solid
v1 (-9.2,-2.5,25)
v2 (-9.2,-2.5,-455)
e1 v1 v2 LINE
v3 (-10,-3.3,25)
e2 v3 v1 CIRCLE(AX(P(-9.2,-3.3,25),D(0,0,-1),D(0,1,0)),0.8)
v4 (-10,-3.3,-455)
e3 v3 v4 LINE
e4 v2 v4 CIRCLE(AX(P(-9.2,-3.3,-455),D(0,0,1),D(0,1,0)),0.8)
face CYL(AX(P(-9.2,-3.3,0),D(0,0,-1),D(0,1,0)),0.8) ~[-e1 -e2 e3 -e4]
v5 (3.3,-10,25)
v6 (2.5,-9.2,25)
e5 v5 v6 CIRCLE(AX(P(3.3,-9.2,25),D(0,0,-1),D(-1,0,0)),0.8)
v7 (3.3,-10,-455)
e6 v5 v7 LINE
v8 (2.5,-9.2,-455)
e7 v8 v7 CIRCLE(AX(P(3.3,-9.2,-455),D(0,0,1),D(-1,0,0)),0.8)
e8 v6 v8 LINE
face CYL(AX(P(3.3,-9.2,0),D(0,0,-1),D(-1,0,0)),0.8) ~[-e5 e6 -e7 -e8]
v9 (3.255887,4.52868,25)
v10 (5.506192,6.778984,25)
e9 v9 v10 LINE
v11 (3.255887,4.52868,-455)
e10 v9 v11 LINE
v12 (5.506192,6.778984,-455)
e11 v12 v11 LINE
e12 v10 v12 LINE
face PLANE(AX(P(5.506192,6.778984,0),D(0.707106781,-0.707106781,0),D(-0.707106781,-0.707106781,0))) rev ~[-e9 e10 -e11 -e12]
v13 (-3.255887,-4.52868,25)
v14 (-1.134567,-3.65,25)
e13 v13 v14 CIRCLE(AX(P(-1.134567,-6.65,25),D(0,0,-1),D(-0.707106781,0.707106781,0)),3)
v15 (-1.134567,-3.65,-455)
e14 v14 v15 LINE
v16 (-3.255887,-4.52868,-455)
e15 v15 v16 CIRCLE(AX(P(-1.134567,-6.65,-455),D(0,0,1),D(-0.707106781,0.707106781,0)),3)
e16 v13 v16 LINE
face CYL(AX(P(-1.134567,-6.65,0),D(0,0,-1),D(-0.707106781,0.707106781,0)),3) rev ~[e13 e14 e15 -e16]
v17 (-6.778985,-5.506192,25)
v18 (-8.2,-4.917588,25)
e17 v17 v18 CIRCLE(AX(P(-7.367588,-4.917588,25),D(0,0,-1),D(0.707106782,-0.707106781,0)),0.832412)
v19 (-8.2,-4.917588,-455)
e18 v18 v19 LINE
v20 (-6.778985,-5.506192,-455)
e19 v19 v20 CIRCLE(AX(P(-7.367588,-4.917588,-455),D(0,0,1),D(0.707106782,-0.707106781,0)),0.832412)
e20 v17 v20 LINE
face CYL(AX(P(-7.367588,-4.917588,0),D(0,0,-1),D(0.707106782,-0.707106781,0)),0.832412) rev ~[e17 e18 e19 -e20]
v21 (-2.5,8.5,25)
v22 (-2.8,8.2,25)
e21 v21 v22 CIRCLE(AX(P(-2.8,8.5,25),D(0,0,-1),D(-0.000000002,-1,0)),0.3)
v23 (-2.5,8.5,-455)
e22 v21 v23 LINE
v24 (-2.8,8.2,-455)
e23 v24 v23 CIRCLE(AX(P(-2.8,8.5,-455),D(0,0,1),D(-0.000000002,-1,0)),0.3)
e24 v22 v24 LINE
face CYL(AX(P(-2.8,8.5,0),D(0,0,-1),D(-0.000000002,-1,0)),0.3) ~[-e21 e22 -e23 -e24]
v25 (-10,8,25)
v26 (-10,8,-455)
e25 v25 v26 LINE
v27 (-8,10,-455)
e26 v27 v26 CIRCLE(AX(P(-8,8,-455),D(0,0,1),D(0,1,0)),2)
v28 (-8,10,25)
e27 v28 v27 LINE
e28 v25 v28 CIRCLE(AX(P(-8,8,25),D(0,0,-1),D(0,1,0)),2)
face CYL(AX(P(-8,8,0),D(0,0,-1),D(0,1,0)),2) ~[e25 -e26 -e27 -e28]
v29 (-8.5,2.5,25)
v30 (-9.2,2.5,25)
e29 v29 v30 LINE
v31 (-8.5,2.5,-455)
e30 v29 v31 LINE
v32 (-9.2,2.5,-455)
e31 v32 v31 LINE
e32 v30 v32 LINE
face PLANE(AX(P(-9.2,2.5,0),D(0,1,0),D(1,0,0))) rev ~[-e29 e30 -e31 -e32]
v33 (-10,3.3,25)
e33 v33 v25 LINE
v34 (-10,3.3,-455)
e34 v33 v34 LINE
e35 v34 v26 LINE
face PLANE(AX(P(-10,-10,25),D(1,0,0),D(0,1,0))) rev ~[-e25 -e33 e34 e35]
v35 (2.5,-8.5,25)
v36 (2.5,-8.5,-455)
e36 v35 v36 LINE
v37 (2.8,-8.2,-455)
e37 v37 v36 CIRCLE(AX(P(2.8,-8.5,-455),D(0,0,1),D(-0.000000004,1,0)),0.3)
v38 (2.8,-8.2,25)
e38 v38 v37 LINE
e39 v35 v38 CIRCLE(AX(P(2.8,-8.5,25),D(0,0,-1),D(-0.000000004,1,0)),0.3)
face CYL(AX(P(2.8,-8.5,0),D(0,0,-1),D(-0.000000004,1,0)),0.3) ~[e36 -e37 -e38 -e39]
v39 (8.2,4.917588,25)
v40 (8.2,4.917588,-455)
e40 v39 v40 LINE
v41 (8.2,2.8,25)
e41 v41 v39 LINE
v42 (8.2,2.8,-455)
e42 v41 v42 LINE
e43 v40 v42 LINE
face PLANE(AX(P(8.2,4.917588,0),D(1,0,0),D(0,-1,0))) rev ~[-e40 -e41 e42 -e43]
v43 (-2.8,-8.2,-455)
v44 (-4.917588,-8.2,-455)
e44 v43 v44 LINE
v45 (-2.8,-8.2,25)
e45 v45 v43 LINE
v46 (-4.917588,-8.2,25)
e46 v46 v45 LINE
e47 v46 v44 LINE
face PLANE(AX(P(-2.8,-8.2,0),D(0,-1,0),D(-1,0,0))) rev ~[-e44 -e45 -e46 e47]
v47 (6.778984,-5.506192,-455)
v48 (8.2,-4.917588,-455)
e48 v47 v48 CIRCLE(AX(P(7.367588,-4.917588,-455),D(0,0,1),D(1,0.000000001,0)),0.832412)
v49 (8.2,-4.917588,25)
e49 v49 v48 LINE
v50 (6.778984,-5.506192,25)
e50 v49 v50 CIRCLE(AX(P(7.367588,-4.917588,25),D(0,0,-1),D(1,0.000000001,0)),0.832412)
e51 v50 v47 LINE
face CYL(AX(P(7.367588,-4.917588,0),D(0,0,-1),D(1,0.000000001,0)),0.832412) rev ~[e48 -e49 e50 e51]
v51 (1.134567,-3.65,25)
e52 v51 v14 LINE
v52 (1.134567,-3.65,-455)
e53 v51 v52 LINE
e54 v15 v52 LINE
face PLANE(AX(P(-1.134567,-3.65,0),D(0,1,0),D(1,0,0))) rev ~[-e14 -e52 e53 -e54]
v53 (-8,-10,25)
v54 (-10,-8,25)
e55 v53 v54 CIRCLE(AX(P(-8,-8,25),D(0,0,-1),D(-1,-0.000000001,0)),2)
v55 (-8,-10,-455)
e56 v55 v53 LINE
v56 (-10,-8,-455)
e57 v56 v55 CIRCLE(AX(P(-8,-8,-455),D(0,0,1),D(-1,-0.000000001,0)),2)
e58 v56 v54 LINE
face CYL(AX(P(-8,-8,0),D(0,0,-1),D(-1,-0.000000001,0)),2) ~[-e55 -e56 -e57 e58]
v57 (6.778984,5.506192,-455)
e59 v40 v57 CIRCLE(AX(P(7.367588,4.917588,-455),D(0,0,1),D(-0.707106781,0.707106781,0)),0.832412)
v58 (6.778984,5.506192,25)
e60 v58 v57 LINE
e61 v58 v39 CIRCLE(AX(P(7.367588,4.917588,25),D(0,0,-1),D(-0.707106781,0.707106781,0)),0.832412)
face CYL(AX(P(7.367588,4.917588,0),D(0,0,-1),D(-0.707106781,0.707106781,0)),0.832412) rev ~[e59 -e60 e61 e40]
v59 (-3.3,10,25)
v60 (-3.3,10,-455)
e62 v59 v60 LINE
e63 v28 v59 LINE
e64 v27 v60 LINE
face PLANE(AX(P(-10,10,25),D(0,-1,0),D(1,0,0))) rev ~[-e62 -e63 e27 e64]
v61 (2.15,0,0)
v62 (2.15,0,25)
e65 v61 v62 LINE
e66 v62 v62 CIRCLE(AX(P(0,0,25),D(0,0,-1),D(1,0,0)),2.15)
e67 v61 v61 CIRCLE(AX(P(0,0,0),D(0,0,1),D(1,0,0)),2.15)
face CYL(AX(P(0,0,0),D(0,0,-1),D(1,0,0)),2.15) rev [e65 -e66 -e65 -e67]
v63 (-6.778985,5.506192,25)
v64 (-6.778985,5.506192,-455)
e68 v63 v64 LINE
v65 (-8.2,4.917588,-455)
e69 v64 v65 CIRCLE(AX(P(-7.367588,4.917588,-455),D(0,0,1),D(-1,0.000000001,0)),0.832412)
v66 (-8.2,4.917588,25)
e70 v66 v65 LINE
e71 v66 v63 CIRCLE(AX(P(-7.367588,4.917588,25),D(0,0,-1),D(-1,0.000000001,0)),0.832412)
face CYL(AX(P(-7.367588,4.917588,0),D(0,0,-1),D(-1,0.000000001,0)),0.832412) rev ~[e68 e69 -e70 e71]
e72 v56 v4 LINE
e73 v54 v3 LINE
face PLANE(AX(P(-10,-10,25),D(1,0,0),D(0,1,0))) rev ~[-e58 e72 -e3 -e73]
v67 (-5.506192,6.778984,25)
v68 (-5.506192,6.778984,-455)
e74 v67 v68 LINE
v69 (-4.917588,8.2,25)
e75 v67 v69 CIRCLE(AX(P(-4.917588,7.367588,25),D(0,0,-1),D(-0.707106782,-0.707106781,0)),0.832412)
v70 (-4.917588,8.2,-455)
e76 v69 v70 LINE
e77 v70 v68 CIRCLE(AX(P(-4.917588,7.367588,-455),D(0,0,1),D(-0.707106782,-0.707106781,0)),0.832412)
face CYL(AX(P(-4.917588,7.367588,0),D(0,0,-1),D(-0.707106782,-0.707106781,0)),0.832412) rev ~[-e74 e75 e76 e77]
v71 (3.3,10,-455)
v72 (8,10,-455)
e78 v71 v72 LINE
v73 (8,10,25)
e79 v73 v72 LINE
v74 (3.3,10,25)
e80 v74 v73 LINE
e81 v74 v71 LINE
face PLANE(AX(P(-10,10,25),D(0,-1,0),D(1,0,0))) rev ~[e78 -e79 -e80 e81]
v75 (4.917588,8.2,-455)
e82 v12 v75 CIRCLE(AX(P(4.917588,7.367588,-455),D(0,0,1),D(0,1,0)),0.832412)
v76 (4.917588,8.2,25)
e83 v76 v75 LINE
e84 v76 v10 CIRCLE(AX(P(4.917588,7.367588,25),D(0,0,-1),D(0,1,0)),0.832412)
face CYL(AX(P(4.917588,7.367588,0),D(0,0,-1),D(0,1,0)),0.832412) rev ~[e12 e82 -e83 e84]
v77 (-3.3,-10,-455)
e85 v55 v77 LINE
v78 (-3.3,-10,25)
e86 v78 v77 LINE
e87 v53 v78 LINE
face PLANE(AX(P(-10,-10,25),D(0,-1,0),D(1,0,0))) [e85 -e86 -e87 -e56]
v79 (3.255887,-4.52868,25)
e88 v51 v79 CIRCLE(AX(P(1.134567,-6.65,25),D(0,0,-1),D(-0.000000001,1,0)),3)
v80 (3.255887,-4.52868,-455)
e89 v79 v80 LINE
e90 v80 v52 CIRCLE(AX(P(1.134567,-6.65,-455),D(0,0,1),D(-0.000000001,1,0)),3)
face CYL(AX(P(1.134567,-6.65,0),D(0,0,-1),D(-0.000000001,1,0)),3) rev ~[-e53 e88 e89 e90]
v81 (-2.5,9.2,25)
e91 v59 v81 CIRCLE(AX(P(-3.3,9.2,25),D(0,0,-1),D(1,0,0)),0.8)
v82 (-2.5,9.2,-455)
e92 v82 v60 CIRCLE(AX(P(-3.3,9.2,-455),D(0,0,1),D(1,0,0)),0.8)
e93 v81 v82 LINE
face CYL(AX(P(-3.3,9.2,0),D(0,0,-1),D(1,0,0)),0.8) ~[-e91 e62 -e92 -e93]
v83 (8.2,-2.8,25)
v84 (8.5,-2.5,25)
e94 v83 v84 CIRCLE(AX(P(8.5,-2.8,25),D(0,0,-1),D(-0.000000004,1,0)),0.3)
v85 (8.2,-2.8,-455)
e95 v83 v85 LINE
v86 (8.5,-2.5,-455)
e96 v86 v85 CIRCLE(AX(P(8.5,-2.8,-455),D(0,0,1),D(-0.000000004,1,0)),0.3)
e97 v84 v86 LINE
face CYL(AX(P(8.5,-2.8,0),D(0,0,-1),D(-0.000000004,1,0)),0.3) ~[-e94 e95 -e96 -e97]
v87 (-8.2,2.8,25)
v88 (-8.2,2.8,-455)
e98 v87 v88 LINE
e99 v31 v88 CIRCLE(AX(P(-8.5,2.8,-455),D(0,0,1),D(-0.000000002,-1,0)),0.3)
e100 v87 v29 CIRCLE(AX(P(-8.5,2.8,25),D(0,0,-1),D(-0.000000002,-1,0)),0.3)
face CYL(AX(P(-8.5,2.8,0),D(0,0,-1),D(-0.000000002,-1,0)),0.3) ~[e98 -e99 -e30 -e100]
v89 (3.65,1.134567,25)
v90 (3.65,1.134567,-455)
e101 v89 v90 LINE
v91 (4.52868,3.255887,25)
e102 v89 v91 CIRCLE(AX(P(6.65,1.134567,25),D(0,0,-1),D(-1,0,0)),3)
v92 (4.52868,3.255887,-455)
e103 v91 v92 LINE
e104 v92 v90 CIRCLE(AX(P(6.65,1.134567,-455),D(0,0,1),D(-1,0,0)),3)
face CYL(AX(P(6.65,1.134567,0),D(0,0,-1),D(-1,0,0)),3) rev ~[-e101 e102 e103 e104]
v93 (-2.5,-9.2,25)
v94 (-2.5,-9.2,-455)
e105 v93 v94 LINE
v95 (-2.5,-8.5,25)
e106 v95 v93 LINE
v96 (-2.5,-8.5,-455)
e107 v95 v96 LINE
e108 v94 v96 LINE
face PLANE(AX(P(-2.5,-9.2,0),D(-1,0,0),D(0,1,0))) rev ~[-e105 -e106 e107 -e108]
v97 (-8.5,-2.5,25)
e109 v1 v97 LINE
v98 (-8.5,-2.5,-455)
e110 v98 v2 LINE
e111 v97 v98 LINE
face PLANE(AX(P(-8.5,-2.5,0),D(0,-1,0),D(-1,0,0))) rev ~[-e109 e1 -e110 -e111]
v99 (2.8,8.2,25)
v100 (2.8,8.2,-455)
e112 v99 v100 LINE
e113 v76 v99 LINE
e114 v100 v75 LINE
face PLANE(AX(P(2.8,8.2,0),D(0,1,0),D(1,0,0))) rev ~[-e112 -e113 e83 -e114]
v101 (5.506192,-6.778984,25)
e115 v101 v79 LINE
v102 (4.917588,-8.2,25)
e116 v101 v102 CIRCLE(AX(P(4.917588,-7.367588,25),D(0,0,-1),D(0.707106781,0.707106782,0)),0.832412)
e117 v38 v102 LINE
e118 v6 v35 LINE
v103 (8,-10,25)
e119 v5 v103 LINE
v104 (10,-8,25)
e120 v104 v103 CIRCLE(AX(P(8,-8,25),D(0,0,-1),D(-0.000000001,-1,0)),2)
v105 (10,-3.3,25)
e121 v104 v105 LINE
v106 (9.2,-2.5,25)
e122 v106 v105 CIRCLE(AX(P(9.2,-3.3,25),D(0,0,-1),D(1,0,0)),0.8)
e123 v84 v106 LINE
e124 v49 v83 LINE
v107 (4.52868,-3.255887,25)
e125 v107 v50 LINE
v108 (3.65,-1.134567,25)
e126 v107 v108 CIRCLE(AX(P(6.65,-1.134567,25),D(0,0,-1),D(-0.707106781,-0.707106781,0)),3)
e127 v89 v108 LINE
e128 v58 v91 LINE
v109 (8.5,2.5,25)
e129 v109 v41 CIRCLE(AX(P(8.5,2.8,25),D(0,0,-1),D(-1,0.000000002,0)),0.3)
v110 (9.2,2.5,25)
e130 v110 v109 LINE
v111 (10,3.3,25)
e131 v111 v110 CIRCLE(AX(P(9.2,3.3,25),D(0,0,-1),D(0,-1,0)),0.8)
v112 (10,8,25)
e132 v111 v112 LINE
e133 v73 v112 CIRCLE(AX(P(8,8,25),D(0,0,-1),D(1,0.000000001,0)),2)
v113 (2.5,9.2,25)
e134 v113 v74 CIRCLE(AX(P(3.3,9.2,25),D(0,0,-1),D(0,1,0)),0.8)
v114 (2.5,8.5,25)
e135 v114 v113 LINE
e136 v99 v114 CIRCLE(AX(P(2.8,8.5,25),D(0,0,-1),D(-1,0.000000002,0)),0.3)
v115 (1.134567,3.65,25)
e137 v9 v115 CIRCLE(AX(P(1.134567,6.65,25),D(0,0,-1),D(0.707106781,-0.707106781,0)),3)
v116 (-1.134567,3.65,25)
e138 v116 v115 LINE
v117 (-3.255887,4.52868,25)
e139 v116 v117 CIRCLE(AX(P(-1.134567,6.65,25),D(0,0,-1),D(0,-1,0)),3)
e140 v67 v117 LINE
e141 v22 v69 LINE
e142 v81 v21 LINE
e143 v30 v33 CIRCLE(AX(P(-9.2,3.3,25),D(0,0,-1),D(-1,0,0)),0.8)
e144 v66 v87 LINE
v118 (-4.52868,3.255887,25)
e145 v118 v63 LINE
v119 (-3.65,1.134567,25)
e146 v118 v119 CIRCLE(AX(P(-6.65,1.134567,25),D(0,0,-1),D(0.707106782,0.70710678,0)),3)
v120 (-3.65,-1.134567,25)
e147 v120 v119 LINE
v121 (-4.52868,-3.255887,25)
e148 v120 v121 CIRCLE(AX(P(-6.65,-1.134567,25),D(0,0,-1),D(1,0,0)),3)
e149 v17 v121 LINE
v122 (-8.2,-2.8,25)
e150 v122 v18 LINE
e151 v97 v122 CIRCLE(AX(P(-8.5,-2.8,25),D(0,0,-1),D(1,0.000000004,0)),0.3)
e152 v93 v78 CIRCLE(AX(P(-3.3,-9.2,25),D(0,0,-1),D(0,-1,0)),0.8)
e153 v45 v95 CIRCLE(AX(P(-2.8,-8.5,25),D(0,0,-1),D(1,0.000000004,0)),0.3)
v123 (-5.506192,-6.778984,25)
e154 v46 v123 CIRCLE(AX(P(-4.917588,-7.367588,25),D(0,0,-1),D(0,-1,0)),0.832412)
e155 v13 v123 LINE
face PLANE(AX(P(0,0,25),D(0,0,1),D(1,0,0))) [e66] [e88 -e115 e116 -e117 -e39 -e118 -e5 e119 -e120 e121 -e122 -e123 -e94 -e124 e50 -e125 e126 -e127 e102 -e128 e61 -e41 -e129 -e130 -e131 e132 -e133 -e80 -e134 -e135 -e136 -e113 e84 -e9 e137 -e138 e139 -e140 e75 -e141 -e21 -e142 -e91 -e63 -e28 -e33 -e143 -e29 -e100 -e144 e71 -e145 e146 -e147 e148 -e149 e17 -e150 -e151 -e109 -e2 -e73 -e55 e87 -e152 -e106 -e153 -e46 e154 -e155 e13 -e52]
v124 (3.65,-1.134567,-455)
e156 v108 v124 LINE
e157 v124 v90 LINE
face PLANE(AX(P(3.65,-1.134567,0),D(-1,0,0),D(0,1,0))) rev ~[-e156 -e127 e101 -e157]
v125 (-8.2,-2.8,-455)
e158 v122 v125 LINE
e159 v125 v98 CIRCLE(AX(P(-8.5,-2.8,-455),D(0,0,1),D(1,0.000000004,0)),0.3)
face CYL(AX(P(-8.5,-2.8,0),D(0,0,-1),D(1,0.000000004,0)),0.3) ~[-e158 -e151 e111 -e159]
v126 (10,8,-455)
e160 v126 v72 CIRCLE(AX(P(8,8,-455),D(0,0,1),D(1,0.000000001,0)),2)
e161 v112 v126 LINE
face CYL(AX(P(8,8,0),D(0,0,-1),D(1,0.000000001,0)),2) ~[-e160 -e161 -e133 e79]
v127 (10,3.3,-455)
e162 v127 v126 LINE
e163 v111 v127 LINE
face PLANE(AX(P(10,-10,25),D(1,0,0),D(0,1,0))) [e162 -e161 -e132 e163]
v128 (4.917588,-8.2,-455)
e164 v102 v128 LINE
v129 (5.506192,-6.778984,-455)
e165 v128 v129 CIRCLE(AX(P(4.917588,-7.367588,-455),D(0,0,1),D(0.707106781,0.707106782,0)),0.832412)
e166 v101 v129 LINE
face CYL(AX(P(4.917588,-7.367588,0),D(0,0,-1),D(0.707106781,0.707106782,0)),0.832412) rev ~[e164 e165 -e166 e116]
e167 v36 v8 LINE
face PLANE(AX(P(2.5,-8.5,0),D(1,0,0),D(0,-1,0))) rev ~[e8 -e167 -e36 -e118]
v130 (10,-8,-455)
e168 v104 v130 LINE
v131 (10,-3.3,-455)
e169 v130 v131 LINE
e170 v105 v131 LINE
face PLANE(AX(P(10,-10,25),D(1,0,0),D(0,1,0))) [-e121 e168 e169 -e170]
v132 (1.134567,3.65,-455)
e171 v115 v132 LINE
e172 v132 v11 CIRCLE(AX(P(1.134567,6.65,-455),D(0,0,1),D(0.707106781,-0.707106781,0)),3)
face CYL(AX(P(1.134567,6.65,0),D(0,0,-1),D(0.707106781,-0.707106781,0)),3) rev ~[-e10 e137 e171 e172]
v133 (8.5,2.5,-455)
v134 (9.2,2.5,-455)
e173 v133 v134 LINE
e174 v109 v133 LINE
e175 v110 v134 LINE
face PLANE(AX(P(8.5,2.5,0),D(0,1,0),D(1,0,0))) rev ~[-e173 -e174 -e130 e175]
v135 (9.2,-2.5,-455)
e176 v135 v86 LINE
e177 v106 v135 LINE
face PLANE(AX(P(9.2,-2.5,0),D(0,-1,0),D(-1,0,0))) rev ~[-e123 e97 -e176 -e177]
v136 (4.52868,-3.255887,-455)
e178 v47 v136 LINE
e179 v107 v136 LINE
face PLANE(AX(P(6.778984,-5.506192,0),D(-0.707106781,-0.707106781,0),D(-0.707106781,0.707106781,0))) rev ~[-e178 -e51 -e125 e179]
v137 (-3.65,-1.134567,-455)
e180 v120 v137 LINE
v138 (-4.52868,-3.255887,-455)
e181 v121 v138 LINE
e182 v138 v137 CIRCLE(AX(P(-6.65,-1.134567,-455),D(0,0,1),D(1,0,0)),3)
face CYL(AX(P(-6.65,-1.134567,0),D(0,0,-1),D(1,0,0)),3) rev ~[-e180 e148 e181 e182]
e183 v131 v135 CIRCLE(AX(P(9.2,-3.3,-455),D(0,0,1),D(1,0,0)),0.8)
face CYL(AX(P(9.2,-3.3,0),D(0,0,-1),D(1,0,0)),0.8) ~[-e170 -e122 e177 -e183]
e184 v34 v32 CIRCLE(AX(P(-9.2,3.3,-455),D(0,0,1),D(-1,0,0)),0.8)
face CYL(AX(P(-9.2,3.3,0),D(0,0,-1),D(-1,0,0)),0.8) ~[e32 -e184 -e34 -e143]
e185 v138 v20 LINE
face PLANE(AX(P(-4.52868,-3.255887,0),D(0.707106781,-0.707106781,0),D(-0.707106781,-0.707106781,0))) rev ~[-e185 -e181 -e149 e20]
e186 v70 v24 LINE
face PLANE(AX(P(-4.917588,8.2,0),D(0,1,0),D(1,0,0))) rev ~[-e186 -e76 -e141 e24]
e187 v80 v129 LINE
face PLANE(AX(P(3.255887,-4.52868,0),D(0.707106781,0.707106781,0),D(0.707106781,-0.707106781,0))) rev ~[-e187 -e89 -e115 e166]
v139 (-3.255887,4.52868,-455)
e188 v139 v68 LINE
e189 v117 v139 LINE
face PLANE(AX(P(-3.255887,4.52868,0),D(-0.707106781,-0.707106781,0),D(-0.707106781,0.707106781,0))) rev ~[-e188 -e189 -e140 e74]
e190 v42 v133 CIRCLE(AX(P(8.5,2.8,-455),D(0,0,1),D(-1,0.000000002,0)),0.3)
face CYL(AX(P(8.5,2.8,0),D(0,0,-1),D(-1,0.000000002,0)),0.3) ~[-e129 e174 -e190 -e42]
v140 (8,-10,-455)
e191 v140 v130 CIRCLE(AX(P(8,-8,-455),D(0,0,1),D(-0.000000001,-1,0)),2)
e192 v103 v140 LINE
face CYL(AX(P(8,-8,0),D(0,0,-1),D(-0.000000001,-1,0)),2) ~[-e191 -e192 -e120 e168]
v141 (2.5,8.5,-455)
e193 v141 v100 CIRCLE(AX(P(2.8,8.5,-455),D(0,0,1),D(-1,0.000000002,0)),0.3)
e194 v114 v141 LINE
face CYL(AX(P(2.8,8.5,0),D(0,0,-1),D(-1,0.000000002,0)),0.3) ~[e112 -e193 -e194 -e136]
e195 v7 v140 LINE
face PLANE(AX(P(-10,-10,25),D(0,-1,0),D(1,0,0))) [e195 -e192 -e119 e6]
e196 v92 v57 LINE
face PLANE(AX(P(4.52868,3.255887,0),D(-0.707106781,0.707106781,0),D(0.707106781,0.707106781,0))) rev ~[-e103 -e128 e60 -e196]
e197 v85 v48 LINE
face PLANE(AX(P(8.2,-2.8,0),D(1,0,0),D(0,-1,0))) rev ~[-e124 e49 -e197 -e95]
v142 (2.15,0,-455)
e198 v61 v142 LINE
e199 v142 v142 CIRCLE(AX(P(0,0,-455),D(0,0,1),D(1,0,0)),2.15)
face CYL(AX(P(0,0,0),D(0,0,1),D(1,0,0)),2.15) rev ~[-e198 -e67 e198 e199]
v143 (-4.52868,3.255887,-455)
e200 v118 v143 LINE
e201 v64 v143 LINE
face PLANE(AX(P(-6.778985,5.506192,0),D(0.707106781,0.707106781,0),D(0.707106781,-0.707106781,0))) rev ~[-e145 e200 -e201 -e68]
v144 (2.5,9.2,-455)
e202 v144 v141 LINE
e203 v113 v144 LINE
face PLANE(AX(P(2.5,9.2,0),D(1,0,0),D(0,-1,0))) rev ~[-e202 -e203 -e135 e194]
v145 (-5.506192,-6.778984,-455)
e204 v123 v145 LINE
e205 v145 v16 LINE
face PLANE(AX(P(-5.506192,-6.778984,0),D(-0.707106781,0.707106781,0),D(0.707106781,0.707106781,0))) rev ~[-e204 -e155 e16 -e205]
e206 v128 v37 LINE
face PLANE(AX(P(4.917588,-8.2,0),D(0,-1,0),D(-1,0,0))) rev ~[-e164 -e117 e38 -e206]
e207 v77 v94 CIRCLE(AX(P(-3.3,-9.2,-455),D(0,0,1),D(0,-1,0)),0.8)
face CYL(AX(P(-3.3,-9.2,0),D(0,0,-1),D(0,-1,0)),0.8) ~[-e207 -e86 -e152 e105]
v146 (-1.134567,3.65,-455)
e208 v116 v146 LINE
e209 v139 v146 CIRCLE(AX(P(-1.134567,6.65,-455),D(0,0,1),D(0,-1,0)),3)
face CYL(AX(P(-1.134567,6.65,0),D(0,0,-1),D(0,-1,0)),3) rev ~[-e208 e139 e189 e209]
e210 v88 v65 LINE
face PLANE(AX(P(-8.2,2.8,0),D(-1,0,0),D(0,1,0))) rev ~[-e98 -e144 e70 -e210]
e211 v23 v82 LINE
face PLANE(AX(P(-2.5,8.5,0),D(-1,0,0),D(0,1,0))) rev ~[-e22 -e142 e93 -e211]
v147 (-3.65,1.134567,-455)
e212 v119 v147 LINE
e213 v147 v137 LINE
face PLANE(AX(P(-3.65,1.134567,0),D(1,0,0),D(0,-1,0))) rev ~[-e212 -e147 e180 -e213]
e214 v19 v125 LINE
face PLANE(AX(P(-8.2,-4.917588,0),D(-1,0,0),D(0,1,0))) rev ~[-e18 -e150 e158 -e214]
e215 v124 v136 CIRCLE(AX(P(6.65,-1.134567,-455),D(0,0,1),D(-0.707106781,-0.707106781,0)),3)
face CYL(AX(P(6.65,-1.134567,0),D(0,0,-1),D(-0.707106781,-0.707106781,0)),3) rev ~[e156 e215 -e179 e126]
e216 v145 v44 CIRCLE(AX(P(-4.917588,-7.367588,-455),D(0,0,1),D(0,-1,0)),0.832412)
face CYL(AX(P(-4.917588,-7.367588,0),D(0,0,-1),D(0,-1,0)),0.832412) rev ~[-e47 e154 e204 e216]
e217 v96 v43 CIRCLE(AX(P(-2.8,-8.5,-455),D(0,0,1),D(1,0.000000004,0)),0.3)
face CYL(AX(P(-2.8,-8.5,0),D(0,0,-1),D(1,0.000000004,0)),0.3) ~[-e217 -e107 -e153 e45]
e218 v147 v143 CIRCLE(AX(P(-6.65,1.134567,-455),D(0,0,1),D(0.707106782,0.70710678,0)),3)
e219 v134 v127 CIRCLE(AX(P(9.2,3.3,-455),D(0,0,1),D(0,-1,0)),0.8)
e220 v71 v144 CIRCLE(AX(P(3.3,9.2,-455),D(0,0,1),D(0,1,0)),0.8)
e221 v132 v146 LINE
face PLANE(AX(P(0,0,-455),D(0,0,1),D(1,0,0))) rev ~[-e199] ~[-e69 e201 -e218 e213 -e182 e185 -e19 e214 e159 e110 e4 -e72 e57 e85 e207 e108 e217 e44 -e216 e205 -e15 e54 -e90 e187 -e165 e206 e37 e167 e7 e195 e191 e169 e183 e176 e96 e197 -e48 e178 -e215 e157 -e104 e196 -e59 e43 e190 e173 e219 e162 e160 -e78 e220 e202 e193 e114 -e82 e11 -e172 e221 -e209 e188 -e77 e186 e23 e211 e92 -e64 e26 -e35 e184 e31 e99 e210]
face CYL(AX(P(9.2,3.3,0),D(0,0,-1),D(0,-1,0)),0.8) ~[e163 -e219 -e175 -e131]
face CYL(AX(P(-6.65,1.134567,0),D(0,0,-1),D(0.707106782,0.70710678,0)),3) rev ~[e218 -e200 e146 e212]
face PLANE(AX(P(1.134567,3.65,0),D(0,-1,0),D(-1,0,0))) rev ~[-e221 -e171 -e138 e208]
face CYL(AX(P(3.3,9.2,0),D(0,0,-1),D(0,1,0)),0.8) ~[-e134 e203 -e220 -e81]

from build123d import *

# Parameters (mm, degrees)
SKETCH4_W              = 20
SKETCH4_H              = 20
BODY_DEPTH             = 480
SKETCH16_OUTSIDE_W     = 118.166
SKETCH16_OUTSIDE_H     = 118.166
SKETCH16_OUTSIDE_R     = 2.15
CUT_PROFILE_DEPTH      = 26
CUT_PROFILE_DEPTH_BACK = 456


with BuildPart() as part:
    # Sketch4 → Body (new body)
    with BuildSketch(Plane.XY.offset(25)):
        Rectangle(SKETCH4_W, SKETCH4_H)
    extrude(amount=-BODY_DEPTH)

    # Sketch16 outside → Cut-Profile (cut, two sides)
    with BuildSketch(Plane.XY) as cut_profile_sk:
        Rectangle(SKETCH16_OUTSIDE_W, SKETCH16_OUTSIDE_H)
        with BuildLine():
            Line((4.917588389, -8.199999991), (2.799999989, -8.199999991))
            ThreePointArc((2.799999989, -8.199999991), (2.587867955, -8.287867957), (2.499999989, -8.499999991))
            Line((2.499999989, -8.499999991), (2.499999989, -9.199999991))
            ThreePointArc((2.499999989, -9.199999991), (2.734314564, -9.765685416), (3.299999989, -9.999999991))
            Line((3.299999989, -9.999999991), (7.999999989, -9.999999991))
            ThreePointArc((7.999999989, -9.999999991), (9.414213552, -9.414213554), (9.999999989, -7.999999991))
            Line((9.999999989, -7.999999991), (9.999999989, -3.299999991))
            ThreePointArc((9.999999989, -3.299999991), (9.765685414, -2.734314566), (9.199999989, -2.499999991))
            Line((9.199999989, -2.499999991), (8.499999989, -2.499999991))
            ThreePointArc((8.499999989, -2.499999991), (8.287867955, -2.587867957), (8.199999989, -2.799999991))
            Line((8.199999989, -2.799999991), (8.199999989, -4.917588391))
            ThreePointArc((8.199999989, -4.917588391), (7.686138511, -5.686636441), (6.778984485, -5.506192286))
            Line((6.778984485, -5.506192286), (4.528679645, -3.255887446))
            ThreePointArc((4.528679645, -3.255887446), (3.878361392, -2.282617401), (3.64999999, -1.134567106))
            Line((3.64999999, -1.134567106), (3.64999999, 1.134567104))
            ThreePointArc((3.64999999, 1.134567104), (3.878361393, 2.282617402), (4.528679647, 3.255887448))
            Line((4.528679647, 3.255887448), (6.778984487, 5.506192288))
            ThreePointArc((6.778984487, 5.506192288), (7.686138506, 5.686636442), (8.199999981, 4.917588398))
            Line((8.199999981, 4.917588398), (8.199999981, 2.799999998))
            ThreePointArc((8.199999981, 2.799999998), (8.287867946, 2.587867964), (8.499999981, 2.499999998))
            Line((8.499999981, 2.499999998), (9.199999981, 2.499999998))
            ThreePointArc((9.199999981, 2.499999998), (9.765685406, 2.734314573), (9.999999981, 3.299999998))
            Line((9.999999981, 3.299999998), (9.999999981, 7.999999998))
            ThreePointArc((9.999999981, 7.999999998), (9.414213543, 9.41421356), (7.999999981, 9.999999998))
            Line((7.999999981, 9.999999998), (3.299999981, 9.999999998))
            ThreePointArc((3.299999981, 9.999999998), (2.734314556, 9.765685423), (2.499999981, 9.199999998))
            Line((2.499999981, 9.199999998), (2.499999981, 8.499999998))
            ThreePointArc((2.499999981, 8.499999998), (2.587867946, 8.287867964), (2.799999981, 8.199999998))
            Line((2.799999981, 8.199999998), (4.917588381, 8.199999998))
            ThreePointArc((4.917588381, 8.199999998), (5.68663643, 7.68613852), (5.506192275, 6.778984494))
            Line((5.506192275, 6.778984494), (3.255887435, 4.528679654))
            ThreePointArc((3.255887435, 4.528679654), (2.28261739, 3.878361401), (1.134567095, 3.649999999))
            Line((1.134567095, 3.649999999), (-1.134567115, 3.649999999))
            ThreePointArc((-1.134567115, 3.649999999), (-2.282617412, 3.878361401), (-3.255887459, 4.528679655))
            Line((-3.255887459, 4.528679655), (-5.506192299, 6.778984495))
            ThreePointArc((-5.506192299, 6.778984495), (-5.686636452, 7.686138515), (-4.917588409, 8.199999989))
            Line((-4.917588409, 8.199999989), (-2.800000009, 8.199999989))
            ThreePointArc((-2.800000009, 8.199999989), (-2.587867974, 8.287867955), (-2.500000009, 8.499999989))
            Line((-2.500000009, 8.499999989), (-2.500000009, 9.199999989))
            ThreePointArc((-2.500000009, 9.199999989), (-2.734314584, 9.765685414), (-3.300000009, 9.999999989))
            Line((-3.300000009, 9.999999989), (-8.000000009, 9.999999989))
            ThreePointArc((-8.000000009, 9.999999989), (-9.414213571, 9.414213552), (-10.000000009, 7.999999989))
            Line((-10.000000009, 7.999999989), (-10.000000009, 3.299999989))
            ThreePointArc((-10.000000009, 3.299999989), (-9.765685434, 2.734314564), (-9.200000009, 2.499999989))
            Line((-9.200000009, 2.499999989), (-8.500000009, 2.499999989))
            ThreePointArc((-8.500000009, 2.499999989), (-8.287867974, 2.587867955), (-8.200000009, 2.799999989))
            Line((-8.200000009, 2.799999989), (-8.200000009, 4.917588389))
            ThreePointArc((-8.200000009, 4.917588389), (-7.686138531, 5.686636438), (-6.778984504, 5.506192284))
            Line((-6.778984504, 5.506192284), (-4.528679664, 3.255887444))
            ThreePointArc((-4.528679664, 3.255887444), (-3.878361412, 2.282617399), (-3.650000009, 1.134567104))
            Line((-3.650000009, 1.134567104), (-3.650000009, -1.134567106))
            ThreePointArc((-3.650000009, -1.134567106), (-3.878361412, -2.282617404), (-4.528679666, -3.25588745))
            Line((-4.528679666, -3.25588745), (-6.778984506, -5.50619229))
            ThreePointArc((-6.778984506, -5.50619229), (-7.686138526, -5.686636444), (-8.2, -4.9175884))
            Line((-8.2, -4.9175884), (-8.2, -2.8))
            ThreePointArc((-8.2, -2.8), (-8.287867966, -2.587867966), (-8.5, -2.5))
            Line((-8.5, -2.5), (-9.2, -2.5))
            ThreePointArc((-9.2, -2.5), (-9.765685425, -2.734314575), (-10, -3.3))
            Line((-10, -3.3), (-10, -8))
            ThreePointArc((-10, -8), (-9.414213562, -9.414213562), (-8, -10))
            Line((-8, -10), (-3.3, -10))
            ThreePointArc((-3.3, -10), (-2.734314575, -9.765685425), (-2.5, -9.2))
            Line((-2.5, -9.2), (-2.5, -8.5))
            ThreePointArc((-2.5, -8.5), (-2.587867966, -8.287867966), (-2.8, -8.2))
            Line((-2.8, -8.2), (-4.9175884, -8.2))
            ThreePointArc((-4.9175884, -8.2), (-5.686636449, -7.686138522), (-5.506192294, -6.778984496))
            Line((-5.506192294, -6.778984496), (-3.255887454, -4.528679656))
            ThreePointArc((-3.255887454, -4.528679656), (-2.282617409, -3.878361403), (-1.134567114, -3.650000001))
            Line((-1.134567114, -3.650000001), (1.134567096, -3.650000001))
            ThreePointArc((1.134567096, -3.650000001), (2.282617393, -3.878361403), (3.255887439, -4.528679657))
            Line((3.255887439, -4.528679657), (5.506192279, -6.778984497))
            ThreePointArc((5.506192279, -6.778984497), (5.686636433, -7.686138517), (4.917588389, -8.199999991))
        make_face(mode=Mode.SUBTRACT)
        Circle(SKETCH16_OUTSIDE_R)
    extrude(amount=CUT_PROFILE_DEPTH, mode=Mode.SUBTRACT)
    extrude(cut_profile_sk.sketch, amount=-CUT_PROFILE_DEPTH_BACK, mode=Mode.SUBTRACT)


solid = part.part
